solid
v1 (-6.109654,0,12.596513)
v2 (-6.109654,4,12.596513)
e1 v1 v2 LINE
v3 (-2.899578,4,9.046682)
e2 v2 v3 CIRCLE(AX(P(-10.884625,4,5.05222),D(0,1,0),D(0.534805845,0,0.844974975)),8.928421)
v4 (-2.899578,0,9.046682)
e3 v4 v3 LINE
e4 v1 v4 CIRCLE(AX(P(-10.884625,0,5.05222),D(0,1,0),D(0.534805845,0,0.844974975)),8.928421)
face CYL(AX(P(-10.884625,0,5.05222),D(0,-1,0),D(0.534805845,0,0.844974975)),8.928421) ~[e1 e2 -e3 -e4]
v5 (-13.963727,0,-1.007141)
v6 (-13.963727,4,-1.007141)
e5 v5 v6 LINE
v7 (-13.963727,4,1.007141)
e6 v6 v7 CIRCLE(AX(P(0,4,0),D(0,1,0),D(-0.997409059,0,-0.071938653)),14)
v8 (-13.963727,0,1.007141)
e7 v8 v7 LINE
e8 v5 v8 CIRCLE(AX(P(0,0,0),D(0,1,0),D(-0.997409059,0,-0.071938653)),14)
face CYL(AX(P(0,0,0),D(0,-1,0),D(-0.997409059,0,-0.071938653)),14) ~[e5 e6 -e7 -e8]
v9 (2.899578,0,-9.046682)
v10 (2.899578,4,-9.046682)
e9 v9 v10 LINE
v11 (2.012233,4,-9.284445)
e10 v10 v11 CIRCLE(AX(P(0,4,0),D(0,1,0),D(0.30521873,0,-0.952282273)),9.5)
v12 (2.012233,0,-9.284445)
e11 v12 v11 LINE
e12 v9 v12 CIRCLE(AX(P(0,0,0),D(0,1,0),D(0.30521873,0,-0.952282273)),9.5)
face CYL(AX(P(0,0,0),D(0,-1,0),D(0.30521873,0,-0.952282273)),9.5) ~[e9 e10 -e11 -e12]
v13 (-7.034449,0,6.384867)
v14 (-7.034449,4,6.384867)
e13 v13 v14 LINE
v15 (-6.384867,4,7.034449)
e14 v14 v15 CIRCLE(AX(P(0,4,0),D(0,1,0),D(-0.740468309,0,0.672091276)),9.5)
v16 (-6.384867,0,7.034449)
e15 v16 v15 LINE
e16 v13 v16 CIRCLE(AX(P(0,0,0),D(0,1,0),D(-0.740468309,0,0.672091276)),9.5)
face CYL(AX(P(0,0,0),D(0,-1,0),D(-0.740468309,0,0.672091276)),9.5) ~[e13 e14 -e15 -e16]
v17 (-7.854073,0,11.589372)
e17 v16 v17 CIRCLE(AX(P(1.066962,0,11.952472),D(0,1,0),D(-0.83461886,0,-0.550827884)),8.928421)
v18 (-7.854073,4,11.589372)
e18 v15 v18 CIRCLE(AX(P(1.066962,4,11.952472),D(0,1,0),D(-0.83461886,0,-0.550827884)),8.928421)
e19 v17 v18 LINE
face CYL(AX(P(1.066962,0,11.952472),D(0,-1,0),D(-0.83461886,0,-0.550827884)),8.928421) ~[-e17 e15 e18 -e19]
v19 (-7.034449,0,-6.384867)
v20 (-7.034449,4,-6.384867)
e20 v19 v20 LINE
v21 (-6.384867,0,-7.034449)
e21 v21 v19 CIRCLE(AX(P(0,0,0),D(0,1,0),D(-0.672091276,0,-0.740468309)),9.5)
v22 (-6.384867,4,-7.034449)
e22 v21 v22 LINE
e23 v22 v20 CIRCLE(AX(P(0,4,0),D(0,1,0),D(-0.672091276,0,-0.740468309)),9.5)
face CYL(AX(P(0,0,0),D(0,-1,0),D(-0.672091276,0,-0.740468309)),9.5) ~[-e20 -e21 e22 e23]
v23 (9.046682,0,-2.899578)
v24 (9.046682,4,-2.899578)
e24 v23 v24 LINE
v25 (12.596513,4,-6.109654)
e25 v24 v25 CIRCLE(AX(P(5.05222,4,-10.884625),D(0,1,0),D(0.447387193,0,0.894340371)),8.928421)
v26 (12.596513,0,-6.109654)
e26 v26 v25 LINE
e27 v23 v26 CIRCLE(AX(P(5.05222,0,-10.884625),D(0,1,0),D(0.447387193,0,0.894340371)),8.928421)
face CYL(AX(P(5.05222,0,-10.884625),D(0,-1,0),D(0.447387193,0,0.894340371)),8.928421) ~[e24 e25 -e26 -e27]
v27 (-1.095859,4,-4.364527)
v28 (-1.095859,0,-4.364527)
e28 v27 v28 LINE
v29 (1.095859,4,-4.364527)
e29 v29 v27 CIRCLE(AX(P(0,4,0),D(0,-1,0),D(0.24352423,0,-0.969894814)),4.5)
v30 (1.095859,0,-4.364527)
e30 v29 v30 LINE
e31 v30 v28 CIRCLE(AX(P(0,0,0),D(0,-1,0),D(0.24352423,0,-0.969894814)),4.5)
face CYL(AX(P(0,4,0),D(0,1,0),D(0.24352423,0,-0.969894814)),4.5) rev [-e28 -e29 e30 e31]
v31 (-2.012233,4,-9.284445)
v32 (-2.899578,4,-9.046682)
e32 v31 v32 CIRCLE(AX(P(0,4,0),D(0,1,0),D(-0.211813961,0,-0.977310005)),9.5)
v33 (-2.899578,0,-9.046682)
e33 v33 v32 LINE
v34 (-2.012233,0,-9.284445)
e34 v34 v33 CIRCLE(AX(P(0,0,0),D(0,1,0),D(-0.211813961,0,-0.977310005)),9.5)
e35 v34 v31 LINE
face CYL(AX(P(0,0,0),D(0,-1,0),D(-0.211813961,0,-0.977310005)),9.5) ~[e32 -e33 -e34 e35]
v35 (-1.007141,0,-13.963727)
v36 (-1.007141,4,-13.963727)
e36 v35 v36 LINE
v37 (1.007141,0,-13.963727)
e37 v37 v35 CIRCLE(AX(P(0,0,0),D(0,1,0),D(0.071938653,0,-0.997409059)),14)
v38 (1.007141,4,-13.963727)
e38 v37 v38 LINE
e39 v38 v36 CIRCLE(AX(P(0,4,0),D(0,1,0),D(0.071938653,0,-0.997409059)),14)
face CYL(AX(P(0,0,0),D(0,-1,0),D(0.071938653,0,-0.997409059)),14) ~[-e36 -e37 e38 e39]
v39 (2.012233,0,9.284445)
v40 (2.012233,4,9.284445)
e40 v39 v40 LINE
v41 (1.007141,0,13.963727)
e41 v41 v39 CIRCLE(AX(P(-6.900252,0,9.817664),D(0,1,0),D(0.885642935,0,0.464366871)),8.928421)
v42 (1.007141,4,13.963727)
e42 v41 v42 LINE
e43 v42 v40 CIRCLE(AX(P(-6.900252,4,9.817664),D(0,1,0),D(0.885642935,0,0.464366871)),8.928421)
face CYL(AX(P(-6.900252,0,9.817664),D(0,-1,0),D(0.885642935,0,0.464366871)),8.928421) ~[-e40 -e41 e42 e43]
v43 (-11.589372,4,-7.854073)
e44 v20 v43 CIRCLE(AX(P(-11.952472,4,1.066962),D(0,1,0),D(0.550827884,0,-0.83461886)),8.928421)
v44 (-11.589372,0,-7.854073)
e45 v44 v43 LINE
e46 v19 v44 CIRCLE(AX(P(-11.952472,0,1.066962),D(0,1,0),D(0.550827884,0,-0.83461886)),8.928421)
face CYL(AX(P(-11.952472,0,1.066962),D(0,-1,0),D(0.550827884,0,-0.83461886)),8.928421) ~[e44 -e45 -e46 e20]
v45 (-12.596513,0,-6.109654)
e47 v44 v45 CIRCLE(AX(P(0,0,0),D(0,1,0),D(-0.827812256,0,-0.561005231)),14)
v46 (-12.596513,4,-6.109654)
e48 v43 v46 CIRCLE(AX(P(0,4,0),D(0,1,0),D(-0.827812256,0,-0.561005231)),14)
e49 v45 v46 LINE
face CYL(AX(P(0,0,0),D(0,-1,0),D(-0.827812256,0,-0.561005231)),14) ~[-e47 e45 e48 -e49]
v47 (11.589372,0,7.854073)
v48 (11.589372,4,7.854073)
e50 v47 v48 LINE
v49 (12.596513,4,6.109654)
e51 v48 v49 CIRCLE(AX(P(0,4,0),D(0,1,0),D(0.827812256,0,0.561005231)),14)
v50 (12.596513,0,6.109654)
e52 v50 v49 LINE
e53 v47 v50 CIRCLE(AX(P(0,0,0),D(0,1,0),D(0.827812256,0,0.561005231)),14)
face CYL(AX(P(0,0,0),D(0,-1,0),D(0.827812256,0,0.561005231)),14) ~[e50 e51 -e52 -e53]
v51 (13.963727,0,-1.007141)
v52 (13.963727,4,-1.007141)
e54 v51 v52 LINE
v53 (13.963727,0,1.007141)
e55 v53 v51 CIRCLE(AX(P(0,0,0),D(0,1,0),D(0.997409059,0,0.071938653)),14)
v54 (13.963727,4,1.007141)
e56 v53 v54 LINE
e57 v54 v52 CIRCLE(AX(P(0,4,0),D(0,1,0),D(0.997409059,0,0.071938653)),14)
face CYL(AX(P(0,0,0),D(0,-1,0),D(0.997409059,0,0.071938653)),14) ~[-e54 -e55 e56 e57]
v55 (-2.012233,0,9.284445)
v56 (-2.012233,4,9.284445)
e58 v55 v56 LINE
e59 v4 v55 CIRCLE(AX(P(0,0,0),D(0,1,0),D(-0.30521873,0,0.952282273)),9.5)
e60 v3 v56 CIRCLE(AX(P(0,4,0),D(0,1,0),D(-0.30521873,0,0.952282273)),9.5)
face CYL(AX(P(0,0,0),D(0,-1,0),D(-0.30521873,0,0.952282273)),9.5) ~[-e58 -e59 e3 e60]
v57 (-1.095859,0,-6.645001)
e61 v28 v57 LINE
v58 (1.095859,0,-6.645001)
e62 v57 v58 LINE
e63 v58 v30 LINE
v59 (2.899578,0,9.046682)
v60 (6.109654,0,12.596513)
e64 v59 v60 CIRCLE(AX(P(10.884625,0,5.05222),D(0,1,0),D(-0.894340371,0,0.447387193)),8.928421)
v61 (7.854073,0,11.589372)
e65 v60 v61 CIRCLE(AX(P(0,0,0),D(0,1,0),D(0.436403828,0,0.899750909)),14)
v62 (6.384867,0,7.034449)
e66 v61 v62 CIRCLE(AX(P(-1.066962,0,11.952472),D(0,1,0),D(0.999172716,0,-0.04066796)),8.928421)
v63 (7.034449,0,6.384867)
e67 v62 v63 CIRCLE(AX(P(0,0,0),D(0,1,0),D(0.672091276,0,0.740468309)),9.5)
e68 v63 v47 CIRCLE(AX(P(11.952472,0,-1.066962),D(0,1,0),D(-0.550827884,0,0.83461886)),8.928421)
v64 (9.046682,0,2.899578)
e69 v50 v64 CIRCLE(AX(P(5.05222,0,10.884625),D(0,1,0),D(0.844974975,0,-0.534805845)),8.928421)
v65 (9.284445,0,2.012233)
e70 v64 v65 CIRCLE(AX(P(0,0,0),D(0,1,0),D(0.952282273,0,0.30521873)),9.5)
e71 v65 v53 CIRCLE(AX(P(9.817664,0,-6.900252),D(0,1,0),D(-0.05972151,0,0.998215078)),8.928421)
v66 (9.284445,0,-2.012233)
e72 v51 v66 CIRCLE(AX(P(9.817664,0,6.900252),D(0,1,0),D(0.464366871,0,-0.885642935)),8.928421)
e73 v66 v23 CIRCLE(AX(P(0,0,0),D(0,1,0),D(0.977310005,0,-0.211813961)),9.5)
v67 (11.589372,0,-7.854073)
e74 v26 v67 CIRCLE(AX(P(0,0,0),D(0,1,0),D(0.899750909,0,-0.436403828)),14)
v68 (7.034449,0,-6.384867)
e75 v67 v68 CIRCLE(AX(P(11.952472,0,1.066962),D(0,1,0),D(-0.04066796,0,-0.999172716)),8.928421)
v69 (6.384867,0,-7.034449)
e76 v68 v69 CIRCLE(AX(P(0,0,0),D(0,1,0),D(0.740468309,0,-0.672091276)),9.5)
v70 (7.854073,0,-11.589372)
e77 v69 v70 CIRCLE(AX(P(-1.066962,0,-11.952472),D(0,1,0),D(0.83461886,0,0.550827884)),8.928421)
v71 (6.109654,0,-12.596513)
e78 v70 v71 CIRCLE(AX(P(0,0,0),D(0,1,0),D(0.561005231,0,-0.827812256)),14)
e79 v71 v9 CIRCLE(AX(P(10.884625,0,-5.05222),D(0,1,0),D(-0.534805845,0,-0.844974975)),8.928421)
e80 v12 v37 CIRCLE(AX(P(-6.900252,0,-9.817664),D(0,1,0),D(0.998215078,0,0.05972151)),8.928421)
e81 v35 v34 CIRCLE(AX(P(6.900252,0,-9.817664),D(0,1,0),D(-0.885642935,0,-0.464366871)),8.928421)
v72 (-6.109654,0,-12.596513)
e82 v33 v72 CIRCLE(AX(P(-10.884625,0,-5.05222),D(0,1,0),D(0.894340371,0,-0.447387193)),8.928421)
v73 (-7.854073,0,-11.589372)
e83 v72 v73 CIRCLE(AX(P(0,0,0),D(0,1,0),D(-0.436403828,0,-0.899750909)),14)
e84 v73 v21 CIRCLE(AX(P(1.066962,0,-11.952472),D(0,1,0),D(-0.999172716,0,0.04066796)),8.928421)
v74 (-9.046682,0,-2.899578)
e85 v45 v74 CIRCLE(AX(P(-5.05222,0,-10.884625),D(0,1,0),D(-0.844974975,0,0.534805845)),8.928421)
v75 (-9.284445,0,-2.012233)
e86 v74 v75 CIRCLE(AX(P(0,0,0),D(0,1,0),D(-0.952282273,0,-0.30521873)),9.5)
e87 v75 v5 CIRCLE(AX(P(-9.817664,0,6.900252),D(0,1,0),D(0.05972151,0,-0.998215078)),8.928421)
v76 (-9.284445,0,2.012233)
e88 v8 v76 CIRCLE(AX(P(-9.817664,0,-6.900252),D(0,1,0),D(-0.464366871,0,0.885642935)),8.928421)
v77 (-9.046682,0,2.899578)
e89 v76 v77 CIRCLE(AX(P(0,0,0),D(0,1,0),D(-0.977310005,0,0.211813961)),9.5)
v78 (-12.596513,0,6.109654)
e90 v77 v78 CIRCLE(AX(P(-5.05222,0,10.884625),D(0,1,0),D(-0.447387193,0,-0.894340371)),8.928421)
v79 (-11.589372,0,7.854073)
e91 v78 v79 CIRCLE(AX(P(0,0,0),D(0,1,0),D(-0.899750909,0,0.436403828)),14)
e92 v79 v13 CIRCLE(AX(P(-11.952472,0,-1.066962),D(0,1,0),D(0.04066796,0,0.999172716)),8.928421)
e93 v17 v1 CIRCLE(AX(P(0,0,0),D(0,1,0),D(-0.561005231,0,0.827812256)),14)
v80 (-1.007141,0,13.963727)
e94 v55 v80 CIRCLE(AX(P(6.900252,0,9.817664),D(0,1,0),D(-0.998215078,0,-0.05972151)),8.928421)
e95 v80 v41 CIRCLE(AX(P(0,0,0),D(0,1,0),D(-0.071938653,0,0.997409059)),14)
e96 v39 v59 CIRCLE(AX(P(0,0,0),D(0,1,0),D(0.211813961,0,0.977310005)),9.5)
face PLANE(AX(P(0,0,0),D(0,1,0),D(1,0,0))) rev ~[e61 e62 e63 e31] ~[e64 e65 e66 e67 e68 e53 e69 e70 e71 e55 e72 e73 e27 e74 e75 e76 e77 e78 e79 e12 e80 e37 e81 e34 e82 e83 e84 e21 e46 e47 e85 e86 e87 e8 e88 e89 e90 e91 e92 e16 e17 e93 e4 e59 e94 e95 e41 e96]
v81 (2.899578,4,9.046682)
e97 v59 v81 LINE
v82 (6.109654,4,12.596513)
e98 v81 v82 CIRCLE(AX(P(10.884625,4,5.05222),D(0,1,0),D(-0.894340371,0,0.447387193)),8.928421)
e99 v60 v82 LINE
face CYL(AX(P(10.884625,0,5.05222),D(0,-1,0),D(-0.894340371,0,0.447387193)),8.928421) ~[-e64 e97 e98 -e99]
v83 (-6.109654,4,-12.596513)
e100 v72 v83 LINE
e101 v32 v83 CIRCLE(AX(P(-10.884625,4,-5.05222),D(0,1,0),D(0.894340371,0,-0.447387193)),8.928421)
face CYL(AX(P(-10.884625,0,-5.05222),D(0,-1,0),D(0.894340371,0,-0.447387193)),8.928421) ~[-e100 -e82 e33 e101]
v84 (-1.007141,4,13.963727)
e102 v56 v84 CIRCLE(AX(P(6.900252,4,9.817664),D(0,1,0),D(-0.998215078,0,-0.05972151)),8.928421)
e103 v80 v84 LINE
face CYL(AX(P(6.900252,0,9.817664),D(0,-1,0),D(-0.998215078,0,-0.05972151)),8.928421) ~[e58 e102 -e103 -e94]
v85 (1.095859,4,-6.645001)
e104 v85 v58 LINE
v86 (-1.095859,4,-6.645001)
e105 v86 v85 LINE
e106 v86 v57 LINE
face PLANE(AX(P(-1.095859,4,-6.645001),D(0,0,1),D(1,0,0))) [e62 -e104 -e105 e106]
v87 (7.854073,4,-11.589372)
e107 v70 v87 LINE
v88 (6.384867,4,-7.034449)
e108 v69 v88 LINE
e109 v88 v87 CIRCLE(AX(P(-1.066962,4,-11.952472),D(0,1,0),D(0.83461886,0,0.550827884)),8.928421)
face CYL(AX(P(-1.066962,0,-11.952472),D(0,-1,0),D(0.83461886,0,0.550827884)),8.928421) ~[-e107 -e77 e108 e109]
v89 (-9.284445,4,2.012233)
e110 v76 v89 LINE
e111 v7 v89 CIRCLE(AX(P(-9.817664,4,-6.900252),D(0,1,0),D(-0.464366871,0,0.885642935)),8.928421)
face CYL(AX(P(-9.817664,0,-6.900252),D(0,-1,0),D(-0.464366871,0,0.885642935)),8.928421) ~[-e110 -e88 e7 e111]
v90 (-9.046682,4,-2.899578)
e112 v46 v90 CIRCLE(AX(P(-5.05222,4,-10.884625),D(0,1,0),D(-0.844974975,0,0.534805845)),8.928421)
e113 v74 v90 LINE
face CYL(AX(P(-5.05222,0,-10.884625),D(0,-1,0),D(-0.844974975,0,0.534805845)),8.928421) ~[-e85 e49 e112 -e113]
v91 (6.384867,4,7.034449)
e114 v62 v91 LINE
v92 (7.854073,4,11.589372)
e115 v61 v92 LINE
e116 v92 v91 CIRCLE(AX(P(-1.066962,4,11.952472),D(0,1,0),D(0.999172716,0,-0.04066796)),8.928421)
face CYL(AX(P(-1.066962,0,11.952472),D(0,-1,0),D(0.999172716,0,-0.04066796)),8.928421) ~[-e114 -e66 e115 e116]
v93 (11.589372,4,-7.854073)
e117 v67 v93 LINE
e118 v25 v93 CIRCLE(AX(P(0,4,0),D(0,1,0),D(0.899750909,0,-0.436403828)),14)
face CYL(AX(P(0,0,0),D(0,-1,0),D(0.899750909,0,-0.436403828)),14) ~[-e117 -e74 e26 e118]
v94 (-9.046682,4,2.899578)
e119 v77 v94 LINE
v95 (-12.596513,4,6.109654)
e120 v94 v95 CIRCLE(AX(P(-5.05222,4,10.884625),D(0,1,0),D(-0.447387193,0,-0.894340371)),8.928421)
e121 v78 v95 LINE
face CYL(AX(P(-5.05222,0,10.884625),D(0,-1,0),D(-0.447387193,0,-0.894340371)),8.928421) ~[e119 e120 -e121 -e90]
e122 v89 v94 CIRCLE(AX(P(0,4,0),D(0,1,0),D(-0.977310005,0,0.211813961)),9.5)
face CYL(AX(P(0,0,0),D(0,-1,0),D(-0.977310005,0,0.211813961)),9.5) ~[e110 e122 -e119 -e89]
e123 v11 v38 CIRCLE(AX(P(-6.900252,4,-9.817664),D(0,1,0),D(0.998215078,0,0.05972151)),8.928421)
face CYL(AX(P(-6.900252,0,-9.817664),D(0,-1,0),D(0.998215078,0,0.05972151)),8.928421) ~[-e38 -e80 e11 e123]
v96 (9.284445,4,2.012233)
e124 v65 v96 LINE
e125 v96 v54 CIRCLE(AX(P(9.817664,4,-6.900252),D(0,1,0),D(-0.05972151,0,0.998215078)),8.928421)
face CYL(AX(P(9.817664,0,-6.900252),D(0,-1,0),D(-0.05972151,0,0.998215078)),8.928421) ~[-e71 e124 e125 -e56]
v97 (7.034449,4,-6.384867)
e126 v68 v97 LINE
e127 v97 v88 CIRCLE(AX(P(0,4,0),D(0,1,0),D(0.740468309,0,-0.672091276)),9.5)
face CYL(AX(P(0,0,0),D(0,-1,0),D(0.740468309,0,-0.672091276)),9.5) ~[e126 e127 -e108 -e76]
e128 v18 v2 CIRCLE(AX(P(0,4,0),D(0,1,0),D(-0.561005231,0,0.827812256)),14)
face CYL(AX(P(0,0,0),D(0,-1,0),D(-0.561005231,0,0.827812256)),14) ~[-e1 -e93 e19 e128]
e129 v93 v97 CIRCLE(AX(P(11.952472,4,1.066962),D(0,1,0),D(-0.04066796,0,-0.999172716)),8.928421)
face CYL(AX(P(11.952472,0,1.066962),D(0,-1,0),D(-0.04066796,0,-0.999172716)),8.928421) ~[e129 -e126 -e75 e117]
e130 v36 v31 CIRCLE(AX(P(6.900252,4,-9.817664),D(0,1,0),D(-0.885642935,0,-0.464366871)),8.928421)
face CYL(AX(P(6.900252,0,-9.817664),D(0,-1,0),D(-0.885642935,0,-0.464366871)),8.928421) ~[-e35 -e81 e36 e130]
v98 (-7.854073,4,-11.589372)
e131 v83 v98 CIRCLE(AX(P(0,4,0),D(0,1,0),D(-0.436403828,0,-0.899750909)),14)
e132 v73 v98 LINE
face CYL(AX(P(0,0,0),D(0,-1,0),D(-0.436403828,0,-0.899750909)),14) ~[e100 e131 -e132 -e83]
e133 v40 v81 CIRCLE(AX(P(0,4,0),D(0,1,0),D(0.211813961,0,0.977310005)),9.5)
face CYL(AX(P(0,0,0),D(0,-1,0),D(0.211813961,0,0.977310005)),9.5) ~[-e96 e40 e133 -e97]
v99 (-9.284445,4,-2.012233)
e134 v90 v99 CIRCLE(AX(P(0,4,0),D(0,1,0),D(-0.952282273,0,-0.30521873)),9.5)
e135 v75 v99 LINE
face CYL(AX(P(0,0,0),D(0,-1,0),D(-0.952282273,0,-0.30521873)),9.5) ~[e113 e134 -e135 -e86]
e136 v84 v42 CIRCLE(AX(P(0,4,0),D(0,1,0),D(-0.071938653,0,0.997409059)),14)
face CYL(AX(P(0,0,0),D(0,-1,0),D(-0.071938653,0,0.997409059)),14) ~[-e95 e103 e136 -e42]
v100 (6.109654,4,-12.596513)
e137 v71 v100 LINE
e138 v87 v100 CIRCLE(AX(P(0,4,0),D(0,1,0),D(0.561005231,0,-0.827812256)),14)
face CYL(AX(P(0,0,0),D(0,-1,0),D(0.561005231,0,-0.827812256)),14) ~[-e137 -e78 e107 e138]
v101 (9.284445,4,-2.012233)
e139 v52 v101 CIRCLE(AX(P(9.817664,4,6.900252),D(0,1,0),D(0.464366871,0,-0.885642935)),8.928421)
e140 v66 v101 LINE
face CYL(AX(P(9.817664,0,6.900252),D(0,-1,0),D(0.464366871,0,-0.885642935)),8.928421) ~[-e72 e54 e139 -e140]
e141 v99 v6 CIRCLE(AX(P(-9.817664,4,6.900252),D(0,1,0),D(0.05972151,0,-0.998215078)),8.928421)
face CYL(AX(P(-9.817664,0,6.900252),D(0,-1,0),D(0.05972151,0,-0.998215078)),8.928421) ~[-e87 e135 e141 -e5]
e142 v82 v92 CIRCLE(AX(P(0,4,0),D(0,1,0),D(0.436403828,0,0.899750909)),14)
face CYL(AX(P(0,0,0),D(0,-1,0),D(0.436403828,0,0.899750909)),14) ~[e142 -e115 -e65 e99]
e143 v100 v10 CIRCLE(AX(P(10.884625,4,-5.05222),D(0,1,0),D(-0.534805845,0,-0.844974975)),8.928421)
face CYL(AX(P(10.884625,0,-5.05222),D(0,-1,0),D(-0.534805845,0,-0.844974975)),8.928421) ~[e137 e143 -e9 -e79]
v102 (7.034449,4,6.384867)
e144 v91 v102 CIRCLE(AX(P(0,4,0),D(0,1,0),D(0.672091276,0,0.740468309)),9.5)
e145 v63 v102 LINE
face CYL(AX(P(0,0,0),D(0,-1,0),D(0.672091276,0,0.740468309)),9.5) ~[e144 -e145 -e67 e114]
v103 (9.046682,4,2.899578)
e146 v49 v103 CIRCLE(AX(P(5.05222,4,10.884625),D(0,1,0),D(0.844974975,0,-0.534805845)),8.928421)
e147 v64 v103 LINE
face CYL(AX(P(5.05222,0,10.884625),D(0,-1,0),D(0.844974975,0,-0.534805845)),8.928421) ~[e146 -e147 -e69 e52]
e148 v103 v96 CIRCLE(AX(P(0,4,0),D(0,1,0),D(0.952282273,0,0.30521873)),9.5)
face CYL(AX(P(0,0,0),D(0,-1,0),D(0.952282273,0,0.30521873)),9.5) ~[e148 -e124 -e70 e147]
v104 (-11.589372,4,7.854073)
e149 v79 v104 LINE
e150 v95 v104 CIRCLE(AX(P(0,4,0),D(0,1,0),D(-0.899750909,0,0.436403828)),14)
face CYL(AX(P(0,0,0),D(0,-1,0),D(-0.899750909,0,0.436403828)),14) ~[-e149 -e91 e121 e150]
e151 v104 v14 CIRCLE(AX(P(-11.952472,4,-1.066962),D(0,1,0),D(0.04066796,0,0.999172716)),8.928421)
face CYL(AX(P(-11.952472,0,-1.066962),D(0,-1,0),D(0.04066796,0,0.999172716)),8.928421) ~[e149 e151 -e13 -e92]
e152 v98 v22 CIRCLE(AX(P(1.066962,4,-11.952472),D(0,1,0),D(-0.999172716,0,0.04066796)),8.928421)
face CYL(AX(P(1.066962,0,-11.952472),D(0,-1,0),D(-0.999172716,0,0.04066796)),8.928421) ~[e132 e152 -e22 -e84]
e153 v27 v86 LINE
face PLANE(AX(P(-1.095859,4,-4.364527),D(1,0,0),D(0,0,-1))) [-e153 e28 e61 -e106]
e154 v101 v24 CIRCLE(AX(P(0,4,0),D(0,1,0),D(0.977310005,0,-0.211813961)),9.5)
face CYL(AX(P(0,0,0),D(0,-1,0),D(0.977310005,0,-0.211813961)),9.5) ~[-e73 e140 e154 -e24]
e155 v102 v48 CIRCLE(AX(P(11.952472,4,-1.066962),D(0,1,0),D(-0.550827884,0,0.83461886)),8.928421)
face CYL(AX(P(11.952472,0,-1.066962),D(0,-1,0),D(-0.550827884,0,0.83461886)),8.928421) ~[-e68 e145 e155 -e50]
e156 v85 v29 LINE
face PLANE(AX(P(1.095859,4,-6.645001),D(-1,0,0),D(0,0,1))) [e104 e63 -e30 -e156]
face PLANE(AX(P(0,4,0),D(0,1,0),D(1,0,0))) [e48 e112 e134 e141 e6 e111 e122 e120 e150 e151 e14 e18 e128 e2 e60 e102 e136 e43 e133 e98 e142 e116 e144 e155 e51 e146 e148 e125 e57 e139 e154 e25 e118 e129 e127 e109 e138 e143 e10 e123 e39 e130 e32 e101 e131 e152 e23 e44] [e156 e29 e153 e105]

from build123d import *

# Parameters (mm, degrees)
EXTRUDE_1_DEPTH     = 4
CUT_EXTRUDE_1_DEPTH = 4


with BuildPart() as part:
    # 草图1 → 凸台-拉伸1 (new body)
    with BuildSketch(Plane(origin=(0, 0, 0), x_dir=(1, 0, 0), z_dir=(0, 1, 0))):
        with BuildLine():
            ThreePointArc((1.007141152, 13.96372682), (0, 14), (-1.007141152, 13.96372682))
            ThreePointArc((-1.007141152, 13.96372682), (-1.829065946, 11.692687307), (-2.012232645, 9.284445044))
            ThreePointArc((-2.012232645, 9.284445044), (-2.458780928, 9.17629535), (-2.899577934, 9.046681591))
            ThreePointArc((-2.899577934, 9.046681591), (-4.262326079, 11.04069722), (-6.109653587, 12.596512734))
            ThreePointArc((-6.109653587, 12.596512734), (-7, 12.124355653), (-7.854073233, 11.589371581))
            ThreePointArc((-7.854073233, 11.589371581), (-7.430361228, 9.211631273), (-6.384867111, 7.034448946))
            ThreePointArc((-6.384867111, 7.034448946), (-6.717514421, 6.717514421), (-7.034448946, 6.384867111))
            ThreePointArc((-7.034448946, 6.384867111), (-9.211631273, 7.430361228), (-11.589371581, 7.854073233))
            ThreePointArc((-11.589371581, 7.854073233), (-12.124355653, 7), (-12.596512734, 6.109653587))
            ThreePointArc((-12.596512734, 6.109653587), (-11.04069722, 4.262326079), (-9.046681591, 2.899577934))
            ThreePointArc((-9.046681591, 2.899577934), (-9.17629535, 2.458780928), (-9.284445044, 2.012232645))
            ThreePointArc((-9.284445044, 2.012232645), (-11.692687307, 1.829065946), (-13.96372682, 1.007141152))
            ThreePointArc((-13.96372682, 1.007141152), (-14, 0), (-13.96372682, -1.007141152))
            ThreePointArc((-13.96372682, -1.007141152), (-11.692687307, -1.829065946), (-9.284445044, -2.012232645))
            ThreePointArc((-9.284445044, -2.012232645), (-9.17629535, -2.458780928), (-9.046681591, -2.899577934))
            ThreePointArc((-9.046681591, -2.899577934), (-11.04069722, -4.262326079), (-12.596512734, -6.109653587))
            ThreePointArc((-12.596512734, -6.109653587), (-12.124355653, -7), (-11.589371581, -7.854073233))
            ThreePointArc((-11.589371581, -7.854073233), (-9.211631273, -7.430361228), (-7.034448946, -6.384867111))
            ThreePointArc((-7.034448946, -6.384867111), (-6.717514421, -6.717514421), (-6.384867111, -7.034448946))
            ThreePointArc((-6.384867111, -7.034448946), (-7.430361228, -9.211631273), (-7.854073233, -11.589371581))
            ThreePointArc((-7.854073233, -11.589371581), (-7, -12.124355653), (-6.109653587, -12.596512734))
            ThreePointArc((-6.109653587, -12.596512734), (-4.262326079, -11.04069722), (-2.899577934, -9.046681591))
            ThreePointArc((-2.899577934, -9.046681591), (-2.458780928, -9.17629535), (-2.012232645, -9.284445044))
            ThreePointArc((-2.012232645, -9.284445044), (-1.829065946, -11.692687307), (-1.007141152, -13.96372682))
            ThreePointArc((-1.007141152, -13.96372682), (0, -14), (1.007141152, -13.96372682))
            ThreePointArc((1.007141152, -13.96372682), (1.829065946, -11.692687307), (2.012232645, -9.284445044))
            ThreePointArc((2.012232645, -9.284445044), (2.458780928, -9.17629535), (2.899577934, -9.046681591))
            ThreePointArc((2.899577934, -9.046681591), (4.262326079, -11.04069722), (6.109653587, -12.596512734))
            ThreePointArc((6.109653587, -12.596512734), (7, -12.124355653), (7.854073233, -11.589371581))
            ThreePointArc((7.854073233, -11.589371581), (7.430361228, -9.211631273), (6.384867111, -7.034448946))
            ThreePointArc((6.384867111, -7.034448946), (6.717514421, -6.717514421), (7.034448946, -6.384867111))
            ThreePointArc((7.034448946, -6.384867111), (9.211631273, -7.430361228), (11.589371581, -7.854073233))
            ThreePointArc((11.589371581, -7.854073233), (12.124355653, -7), (12.596512734, -6.109653587))
            ThreePointArc((12.596512734, -6.109653587), (11.04069722, -4.262326079), (9.046681591, -2.899577934))
            ThreePointArc((9.046681591, -2.899577934), (9.17629535, -2.458780928), (9.284445044, -2.012232645))
            ThreePointArc((9.284445044, -2.012232645), (11.692687307, -1.829065946), (13.96372682, -1.007141152))
            ThreePointArc((13.96372682, -1.007141152), (14, 0), (13.96372682, 1.007141152))
            ThreePointArc((13.96372682, 1.007141152), (11.692687307, 1.829065946), (9.284445044, 2.012232645))
            ThreePointArc((9.284445044, 2.012232645), (9.17629535, 2.458780928), (9.046681591, 2.899577934))
            ThreePointArc((9.046681591, 2.899577934), (11.04069722, 4.262326079), (12.596512734, 6.109653587))
            ThreePointArc((12.596512734, 6.109653587), (12.124355653, 7), (11.589371581, 7.854073233))
            ThreePointArc((11.589371581, 7.854073233), (9.211631273, 7.430361228), (7.034448946, 6.384867111))
            ThreePointArc((7.034448946, 6.384867111), (6.717514421, 6.717514421), (6.384867111, 7.034448946))
            ThreePointArc((6.384867111, 7.034448946), (7.430361228, 9.211631273), (7.854073233, 11.589371581))
            ThreePointArc((7.854073233, 11.589371581), (7, 12.124355653), (6.109653587, 12.596512734))
            ThreePointArc((6.109653587, 12.596512734), (4.262326079, 11.04069722), (2.899577934, 9.046681591))
            ThreePointArc((2.899577934, 9.046681591), (2.458780928, 9.17629535), (2.012232645, 9.284445044))
            ThreePointArc((2.012232645, 9.284445044), (1.829065946, 11.692687307), (1.007141152, 13.96372682))
        make_face()
    extrude(amount=EXTRUDE_1_DEPTH)

    # 草图2 → 切除-拉伸1 (cut)
    with BuildSketch(Plane(origin=(0, 4, 0), x_dir=(1, 0, 0), z_dir=(0, 1, 0))):
        with BuildLine():
            Line((-1.095859036, 4.364526661), (-1.095859036, 6.645001166))
            Line((-1.095859036, 6.645001166), (1.095859036, 6.645001166))
            Line((1.095859036, 6.645001166), (1.095859036, 4.364526661))
            ThreePointArc((1.095859036, 4.364526661), (0, -4.5), (-1.095859036, 4.364526661))
        make_face()
    extrude(amount=-CUT_EXTRUDE_1_DEPTH, mode=Mode.SUBTRACT)


solid = part.part
